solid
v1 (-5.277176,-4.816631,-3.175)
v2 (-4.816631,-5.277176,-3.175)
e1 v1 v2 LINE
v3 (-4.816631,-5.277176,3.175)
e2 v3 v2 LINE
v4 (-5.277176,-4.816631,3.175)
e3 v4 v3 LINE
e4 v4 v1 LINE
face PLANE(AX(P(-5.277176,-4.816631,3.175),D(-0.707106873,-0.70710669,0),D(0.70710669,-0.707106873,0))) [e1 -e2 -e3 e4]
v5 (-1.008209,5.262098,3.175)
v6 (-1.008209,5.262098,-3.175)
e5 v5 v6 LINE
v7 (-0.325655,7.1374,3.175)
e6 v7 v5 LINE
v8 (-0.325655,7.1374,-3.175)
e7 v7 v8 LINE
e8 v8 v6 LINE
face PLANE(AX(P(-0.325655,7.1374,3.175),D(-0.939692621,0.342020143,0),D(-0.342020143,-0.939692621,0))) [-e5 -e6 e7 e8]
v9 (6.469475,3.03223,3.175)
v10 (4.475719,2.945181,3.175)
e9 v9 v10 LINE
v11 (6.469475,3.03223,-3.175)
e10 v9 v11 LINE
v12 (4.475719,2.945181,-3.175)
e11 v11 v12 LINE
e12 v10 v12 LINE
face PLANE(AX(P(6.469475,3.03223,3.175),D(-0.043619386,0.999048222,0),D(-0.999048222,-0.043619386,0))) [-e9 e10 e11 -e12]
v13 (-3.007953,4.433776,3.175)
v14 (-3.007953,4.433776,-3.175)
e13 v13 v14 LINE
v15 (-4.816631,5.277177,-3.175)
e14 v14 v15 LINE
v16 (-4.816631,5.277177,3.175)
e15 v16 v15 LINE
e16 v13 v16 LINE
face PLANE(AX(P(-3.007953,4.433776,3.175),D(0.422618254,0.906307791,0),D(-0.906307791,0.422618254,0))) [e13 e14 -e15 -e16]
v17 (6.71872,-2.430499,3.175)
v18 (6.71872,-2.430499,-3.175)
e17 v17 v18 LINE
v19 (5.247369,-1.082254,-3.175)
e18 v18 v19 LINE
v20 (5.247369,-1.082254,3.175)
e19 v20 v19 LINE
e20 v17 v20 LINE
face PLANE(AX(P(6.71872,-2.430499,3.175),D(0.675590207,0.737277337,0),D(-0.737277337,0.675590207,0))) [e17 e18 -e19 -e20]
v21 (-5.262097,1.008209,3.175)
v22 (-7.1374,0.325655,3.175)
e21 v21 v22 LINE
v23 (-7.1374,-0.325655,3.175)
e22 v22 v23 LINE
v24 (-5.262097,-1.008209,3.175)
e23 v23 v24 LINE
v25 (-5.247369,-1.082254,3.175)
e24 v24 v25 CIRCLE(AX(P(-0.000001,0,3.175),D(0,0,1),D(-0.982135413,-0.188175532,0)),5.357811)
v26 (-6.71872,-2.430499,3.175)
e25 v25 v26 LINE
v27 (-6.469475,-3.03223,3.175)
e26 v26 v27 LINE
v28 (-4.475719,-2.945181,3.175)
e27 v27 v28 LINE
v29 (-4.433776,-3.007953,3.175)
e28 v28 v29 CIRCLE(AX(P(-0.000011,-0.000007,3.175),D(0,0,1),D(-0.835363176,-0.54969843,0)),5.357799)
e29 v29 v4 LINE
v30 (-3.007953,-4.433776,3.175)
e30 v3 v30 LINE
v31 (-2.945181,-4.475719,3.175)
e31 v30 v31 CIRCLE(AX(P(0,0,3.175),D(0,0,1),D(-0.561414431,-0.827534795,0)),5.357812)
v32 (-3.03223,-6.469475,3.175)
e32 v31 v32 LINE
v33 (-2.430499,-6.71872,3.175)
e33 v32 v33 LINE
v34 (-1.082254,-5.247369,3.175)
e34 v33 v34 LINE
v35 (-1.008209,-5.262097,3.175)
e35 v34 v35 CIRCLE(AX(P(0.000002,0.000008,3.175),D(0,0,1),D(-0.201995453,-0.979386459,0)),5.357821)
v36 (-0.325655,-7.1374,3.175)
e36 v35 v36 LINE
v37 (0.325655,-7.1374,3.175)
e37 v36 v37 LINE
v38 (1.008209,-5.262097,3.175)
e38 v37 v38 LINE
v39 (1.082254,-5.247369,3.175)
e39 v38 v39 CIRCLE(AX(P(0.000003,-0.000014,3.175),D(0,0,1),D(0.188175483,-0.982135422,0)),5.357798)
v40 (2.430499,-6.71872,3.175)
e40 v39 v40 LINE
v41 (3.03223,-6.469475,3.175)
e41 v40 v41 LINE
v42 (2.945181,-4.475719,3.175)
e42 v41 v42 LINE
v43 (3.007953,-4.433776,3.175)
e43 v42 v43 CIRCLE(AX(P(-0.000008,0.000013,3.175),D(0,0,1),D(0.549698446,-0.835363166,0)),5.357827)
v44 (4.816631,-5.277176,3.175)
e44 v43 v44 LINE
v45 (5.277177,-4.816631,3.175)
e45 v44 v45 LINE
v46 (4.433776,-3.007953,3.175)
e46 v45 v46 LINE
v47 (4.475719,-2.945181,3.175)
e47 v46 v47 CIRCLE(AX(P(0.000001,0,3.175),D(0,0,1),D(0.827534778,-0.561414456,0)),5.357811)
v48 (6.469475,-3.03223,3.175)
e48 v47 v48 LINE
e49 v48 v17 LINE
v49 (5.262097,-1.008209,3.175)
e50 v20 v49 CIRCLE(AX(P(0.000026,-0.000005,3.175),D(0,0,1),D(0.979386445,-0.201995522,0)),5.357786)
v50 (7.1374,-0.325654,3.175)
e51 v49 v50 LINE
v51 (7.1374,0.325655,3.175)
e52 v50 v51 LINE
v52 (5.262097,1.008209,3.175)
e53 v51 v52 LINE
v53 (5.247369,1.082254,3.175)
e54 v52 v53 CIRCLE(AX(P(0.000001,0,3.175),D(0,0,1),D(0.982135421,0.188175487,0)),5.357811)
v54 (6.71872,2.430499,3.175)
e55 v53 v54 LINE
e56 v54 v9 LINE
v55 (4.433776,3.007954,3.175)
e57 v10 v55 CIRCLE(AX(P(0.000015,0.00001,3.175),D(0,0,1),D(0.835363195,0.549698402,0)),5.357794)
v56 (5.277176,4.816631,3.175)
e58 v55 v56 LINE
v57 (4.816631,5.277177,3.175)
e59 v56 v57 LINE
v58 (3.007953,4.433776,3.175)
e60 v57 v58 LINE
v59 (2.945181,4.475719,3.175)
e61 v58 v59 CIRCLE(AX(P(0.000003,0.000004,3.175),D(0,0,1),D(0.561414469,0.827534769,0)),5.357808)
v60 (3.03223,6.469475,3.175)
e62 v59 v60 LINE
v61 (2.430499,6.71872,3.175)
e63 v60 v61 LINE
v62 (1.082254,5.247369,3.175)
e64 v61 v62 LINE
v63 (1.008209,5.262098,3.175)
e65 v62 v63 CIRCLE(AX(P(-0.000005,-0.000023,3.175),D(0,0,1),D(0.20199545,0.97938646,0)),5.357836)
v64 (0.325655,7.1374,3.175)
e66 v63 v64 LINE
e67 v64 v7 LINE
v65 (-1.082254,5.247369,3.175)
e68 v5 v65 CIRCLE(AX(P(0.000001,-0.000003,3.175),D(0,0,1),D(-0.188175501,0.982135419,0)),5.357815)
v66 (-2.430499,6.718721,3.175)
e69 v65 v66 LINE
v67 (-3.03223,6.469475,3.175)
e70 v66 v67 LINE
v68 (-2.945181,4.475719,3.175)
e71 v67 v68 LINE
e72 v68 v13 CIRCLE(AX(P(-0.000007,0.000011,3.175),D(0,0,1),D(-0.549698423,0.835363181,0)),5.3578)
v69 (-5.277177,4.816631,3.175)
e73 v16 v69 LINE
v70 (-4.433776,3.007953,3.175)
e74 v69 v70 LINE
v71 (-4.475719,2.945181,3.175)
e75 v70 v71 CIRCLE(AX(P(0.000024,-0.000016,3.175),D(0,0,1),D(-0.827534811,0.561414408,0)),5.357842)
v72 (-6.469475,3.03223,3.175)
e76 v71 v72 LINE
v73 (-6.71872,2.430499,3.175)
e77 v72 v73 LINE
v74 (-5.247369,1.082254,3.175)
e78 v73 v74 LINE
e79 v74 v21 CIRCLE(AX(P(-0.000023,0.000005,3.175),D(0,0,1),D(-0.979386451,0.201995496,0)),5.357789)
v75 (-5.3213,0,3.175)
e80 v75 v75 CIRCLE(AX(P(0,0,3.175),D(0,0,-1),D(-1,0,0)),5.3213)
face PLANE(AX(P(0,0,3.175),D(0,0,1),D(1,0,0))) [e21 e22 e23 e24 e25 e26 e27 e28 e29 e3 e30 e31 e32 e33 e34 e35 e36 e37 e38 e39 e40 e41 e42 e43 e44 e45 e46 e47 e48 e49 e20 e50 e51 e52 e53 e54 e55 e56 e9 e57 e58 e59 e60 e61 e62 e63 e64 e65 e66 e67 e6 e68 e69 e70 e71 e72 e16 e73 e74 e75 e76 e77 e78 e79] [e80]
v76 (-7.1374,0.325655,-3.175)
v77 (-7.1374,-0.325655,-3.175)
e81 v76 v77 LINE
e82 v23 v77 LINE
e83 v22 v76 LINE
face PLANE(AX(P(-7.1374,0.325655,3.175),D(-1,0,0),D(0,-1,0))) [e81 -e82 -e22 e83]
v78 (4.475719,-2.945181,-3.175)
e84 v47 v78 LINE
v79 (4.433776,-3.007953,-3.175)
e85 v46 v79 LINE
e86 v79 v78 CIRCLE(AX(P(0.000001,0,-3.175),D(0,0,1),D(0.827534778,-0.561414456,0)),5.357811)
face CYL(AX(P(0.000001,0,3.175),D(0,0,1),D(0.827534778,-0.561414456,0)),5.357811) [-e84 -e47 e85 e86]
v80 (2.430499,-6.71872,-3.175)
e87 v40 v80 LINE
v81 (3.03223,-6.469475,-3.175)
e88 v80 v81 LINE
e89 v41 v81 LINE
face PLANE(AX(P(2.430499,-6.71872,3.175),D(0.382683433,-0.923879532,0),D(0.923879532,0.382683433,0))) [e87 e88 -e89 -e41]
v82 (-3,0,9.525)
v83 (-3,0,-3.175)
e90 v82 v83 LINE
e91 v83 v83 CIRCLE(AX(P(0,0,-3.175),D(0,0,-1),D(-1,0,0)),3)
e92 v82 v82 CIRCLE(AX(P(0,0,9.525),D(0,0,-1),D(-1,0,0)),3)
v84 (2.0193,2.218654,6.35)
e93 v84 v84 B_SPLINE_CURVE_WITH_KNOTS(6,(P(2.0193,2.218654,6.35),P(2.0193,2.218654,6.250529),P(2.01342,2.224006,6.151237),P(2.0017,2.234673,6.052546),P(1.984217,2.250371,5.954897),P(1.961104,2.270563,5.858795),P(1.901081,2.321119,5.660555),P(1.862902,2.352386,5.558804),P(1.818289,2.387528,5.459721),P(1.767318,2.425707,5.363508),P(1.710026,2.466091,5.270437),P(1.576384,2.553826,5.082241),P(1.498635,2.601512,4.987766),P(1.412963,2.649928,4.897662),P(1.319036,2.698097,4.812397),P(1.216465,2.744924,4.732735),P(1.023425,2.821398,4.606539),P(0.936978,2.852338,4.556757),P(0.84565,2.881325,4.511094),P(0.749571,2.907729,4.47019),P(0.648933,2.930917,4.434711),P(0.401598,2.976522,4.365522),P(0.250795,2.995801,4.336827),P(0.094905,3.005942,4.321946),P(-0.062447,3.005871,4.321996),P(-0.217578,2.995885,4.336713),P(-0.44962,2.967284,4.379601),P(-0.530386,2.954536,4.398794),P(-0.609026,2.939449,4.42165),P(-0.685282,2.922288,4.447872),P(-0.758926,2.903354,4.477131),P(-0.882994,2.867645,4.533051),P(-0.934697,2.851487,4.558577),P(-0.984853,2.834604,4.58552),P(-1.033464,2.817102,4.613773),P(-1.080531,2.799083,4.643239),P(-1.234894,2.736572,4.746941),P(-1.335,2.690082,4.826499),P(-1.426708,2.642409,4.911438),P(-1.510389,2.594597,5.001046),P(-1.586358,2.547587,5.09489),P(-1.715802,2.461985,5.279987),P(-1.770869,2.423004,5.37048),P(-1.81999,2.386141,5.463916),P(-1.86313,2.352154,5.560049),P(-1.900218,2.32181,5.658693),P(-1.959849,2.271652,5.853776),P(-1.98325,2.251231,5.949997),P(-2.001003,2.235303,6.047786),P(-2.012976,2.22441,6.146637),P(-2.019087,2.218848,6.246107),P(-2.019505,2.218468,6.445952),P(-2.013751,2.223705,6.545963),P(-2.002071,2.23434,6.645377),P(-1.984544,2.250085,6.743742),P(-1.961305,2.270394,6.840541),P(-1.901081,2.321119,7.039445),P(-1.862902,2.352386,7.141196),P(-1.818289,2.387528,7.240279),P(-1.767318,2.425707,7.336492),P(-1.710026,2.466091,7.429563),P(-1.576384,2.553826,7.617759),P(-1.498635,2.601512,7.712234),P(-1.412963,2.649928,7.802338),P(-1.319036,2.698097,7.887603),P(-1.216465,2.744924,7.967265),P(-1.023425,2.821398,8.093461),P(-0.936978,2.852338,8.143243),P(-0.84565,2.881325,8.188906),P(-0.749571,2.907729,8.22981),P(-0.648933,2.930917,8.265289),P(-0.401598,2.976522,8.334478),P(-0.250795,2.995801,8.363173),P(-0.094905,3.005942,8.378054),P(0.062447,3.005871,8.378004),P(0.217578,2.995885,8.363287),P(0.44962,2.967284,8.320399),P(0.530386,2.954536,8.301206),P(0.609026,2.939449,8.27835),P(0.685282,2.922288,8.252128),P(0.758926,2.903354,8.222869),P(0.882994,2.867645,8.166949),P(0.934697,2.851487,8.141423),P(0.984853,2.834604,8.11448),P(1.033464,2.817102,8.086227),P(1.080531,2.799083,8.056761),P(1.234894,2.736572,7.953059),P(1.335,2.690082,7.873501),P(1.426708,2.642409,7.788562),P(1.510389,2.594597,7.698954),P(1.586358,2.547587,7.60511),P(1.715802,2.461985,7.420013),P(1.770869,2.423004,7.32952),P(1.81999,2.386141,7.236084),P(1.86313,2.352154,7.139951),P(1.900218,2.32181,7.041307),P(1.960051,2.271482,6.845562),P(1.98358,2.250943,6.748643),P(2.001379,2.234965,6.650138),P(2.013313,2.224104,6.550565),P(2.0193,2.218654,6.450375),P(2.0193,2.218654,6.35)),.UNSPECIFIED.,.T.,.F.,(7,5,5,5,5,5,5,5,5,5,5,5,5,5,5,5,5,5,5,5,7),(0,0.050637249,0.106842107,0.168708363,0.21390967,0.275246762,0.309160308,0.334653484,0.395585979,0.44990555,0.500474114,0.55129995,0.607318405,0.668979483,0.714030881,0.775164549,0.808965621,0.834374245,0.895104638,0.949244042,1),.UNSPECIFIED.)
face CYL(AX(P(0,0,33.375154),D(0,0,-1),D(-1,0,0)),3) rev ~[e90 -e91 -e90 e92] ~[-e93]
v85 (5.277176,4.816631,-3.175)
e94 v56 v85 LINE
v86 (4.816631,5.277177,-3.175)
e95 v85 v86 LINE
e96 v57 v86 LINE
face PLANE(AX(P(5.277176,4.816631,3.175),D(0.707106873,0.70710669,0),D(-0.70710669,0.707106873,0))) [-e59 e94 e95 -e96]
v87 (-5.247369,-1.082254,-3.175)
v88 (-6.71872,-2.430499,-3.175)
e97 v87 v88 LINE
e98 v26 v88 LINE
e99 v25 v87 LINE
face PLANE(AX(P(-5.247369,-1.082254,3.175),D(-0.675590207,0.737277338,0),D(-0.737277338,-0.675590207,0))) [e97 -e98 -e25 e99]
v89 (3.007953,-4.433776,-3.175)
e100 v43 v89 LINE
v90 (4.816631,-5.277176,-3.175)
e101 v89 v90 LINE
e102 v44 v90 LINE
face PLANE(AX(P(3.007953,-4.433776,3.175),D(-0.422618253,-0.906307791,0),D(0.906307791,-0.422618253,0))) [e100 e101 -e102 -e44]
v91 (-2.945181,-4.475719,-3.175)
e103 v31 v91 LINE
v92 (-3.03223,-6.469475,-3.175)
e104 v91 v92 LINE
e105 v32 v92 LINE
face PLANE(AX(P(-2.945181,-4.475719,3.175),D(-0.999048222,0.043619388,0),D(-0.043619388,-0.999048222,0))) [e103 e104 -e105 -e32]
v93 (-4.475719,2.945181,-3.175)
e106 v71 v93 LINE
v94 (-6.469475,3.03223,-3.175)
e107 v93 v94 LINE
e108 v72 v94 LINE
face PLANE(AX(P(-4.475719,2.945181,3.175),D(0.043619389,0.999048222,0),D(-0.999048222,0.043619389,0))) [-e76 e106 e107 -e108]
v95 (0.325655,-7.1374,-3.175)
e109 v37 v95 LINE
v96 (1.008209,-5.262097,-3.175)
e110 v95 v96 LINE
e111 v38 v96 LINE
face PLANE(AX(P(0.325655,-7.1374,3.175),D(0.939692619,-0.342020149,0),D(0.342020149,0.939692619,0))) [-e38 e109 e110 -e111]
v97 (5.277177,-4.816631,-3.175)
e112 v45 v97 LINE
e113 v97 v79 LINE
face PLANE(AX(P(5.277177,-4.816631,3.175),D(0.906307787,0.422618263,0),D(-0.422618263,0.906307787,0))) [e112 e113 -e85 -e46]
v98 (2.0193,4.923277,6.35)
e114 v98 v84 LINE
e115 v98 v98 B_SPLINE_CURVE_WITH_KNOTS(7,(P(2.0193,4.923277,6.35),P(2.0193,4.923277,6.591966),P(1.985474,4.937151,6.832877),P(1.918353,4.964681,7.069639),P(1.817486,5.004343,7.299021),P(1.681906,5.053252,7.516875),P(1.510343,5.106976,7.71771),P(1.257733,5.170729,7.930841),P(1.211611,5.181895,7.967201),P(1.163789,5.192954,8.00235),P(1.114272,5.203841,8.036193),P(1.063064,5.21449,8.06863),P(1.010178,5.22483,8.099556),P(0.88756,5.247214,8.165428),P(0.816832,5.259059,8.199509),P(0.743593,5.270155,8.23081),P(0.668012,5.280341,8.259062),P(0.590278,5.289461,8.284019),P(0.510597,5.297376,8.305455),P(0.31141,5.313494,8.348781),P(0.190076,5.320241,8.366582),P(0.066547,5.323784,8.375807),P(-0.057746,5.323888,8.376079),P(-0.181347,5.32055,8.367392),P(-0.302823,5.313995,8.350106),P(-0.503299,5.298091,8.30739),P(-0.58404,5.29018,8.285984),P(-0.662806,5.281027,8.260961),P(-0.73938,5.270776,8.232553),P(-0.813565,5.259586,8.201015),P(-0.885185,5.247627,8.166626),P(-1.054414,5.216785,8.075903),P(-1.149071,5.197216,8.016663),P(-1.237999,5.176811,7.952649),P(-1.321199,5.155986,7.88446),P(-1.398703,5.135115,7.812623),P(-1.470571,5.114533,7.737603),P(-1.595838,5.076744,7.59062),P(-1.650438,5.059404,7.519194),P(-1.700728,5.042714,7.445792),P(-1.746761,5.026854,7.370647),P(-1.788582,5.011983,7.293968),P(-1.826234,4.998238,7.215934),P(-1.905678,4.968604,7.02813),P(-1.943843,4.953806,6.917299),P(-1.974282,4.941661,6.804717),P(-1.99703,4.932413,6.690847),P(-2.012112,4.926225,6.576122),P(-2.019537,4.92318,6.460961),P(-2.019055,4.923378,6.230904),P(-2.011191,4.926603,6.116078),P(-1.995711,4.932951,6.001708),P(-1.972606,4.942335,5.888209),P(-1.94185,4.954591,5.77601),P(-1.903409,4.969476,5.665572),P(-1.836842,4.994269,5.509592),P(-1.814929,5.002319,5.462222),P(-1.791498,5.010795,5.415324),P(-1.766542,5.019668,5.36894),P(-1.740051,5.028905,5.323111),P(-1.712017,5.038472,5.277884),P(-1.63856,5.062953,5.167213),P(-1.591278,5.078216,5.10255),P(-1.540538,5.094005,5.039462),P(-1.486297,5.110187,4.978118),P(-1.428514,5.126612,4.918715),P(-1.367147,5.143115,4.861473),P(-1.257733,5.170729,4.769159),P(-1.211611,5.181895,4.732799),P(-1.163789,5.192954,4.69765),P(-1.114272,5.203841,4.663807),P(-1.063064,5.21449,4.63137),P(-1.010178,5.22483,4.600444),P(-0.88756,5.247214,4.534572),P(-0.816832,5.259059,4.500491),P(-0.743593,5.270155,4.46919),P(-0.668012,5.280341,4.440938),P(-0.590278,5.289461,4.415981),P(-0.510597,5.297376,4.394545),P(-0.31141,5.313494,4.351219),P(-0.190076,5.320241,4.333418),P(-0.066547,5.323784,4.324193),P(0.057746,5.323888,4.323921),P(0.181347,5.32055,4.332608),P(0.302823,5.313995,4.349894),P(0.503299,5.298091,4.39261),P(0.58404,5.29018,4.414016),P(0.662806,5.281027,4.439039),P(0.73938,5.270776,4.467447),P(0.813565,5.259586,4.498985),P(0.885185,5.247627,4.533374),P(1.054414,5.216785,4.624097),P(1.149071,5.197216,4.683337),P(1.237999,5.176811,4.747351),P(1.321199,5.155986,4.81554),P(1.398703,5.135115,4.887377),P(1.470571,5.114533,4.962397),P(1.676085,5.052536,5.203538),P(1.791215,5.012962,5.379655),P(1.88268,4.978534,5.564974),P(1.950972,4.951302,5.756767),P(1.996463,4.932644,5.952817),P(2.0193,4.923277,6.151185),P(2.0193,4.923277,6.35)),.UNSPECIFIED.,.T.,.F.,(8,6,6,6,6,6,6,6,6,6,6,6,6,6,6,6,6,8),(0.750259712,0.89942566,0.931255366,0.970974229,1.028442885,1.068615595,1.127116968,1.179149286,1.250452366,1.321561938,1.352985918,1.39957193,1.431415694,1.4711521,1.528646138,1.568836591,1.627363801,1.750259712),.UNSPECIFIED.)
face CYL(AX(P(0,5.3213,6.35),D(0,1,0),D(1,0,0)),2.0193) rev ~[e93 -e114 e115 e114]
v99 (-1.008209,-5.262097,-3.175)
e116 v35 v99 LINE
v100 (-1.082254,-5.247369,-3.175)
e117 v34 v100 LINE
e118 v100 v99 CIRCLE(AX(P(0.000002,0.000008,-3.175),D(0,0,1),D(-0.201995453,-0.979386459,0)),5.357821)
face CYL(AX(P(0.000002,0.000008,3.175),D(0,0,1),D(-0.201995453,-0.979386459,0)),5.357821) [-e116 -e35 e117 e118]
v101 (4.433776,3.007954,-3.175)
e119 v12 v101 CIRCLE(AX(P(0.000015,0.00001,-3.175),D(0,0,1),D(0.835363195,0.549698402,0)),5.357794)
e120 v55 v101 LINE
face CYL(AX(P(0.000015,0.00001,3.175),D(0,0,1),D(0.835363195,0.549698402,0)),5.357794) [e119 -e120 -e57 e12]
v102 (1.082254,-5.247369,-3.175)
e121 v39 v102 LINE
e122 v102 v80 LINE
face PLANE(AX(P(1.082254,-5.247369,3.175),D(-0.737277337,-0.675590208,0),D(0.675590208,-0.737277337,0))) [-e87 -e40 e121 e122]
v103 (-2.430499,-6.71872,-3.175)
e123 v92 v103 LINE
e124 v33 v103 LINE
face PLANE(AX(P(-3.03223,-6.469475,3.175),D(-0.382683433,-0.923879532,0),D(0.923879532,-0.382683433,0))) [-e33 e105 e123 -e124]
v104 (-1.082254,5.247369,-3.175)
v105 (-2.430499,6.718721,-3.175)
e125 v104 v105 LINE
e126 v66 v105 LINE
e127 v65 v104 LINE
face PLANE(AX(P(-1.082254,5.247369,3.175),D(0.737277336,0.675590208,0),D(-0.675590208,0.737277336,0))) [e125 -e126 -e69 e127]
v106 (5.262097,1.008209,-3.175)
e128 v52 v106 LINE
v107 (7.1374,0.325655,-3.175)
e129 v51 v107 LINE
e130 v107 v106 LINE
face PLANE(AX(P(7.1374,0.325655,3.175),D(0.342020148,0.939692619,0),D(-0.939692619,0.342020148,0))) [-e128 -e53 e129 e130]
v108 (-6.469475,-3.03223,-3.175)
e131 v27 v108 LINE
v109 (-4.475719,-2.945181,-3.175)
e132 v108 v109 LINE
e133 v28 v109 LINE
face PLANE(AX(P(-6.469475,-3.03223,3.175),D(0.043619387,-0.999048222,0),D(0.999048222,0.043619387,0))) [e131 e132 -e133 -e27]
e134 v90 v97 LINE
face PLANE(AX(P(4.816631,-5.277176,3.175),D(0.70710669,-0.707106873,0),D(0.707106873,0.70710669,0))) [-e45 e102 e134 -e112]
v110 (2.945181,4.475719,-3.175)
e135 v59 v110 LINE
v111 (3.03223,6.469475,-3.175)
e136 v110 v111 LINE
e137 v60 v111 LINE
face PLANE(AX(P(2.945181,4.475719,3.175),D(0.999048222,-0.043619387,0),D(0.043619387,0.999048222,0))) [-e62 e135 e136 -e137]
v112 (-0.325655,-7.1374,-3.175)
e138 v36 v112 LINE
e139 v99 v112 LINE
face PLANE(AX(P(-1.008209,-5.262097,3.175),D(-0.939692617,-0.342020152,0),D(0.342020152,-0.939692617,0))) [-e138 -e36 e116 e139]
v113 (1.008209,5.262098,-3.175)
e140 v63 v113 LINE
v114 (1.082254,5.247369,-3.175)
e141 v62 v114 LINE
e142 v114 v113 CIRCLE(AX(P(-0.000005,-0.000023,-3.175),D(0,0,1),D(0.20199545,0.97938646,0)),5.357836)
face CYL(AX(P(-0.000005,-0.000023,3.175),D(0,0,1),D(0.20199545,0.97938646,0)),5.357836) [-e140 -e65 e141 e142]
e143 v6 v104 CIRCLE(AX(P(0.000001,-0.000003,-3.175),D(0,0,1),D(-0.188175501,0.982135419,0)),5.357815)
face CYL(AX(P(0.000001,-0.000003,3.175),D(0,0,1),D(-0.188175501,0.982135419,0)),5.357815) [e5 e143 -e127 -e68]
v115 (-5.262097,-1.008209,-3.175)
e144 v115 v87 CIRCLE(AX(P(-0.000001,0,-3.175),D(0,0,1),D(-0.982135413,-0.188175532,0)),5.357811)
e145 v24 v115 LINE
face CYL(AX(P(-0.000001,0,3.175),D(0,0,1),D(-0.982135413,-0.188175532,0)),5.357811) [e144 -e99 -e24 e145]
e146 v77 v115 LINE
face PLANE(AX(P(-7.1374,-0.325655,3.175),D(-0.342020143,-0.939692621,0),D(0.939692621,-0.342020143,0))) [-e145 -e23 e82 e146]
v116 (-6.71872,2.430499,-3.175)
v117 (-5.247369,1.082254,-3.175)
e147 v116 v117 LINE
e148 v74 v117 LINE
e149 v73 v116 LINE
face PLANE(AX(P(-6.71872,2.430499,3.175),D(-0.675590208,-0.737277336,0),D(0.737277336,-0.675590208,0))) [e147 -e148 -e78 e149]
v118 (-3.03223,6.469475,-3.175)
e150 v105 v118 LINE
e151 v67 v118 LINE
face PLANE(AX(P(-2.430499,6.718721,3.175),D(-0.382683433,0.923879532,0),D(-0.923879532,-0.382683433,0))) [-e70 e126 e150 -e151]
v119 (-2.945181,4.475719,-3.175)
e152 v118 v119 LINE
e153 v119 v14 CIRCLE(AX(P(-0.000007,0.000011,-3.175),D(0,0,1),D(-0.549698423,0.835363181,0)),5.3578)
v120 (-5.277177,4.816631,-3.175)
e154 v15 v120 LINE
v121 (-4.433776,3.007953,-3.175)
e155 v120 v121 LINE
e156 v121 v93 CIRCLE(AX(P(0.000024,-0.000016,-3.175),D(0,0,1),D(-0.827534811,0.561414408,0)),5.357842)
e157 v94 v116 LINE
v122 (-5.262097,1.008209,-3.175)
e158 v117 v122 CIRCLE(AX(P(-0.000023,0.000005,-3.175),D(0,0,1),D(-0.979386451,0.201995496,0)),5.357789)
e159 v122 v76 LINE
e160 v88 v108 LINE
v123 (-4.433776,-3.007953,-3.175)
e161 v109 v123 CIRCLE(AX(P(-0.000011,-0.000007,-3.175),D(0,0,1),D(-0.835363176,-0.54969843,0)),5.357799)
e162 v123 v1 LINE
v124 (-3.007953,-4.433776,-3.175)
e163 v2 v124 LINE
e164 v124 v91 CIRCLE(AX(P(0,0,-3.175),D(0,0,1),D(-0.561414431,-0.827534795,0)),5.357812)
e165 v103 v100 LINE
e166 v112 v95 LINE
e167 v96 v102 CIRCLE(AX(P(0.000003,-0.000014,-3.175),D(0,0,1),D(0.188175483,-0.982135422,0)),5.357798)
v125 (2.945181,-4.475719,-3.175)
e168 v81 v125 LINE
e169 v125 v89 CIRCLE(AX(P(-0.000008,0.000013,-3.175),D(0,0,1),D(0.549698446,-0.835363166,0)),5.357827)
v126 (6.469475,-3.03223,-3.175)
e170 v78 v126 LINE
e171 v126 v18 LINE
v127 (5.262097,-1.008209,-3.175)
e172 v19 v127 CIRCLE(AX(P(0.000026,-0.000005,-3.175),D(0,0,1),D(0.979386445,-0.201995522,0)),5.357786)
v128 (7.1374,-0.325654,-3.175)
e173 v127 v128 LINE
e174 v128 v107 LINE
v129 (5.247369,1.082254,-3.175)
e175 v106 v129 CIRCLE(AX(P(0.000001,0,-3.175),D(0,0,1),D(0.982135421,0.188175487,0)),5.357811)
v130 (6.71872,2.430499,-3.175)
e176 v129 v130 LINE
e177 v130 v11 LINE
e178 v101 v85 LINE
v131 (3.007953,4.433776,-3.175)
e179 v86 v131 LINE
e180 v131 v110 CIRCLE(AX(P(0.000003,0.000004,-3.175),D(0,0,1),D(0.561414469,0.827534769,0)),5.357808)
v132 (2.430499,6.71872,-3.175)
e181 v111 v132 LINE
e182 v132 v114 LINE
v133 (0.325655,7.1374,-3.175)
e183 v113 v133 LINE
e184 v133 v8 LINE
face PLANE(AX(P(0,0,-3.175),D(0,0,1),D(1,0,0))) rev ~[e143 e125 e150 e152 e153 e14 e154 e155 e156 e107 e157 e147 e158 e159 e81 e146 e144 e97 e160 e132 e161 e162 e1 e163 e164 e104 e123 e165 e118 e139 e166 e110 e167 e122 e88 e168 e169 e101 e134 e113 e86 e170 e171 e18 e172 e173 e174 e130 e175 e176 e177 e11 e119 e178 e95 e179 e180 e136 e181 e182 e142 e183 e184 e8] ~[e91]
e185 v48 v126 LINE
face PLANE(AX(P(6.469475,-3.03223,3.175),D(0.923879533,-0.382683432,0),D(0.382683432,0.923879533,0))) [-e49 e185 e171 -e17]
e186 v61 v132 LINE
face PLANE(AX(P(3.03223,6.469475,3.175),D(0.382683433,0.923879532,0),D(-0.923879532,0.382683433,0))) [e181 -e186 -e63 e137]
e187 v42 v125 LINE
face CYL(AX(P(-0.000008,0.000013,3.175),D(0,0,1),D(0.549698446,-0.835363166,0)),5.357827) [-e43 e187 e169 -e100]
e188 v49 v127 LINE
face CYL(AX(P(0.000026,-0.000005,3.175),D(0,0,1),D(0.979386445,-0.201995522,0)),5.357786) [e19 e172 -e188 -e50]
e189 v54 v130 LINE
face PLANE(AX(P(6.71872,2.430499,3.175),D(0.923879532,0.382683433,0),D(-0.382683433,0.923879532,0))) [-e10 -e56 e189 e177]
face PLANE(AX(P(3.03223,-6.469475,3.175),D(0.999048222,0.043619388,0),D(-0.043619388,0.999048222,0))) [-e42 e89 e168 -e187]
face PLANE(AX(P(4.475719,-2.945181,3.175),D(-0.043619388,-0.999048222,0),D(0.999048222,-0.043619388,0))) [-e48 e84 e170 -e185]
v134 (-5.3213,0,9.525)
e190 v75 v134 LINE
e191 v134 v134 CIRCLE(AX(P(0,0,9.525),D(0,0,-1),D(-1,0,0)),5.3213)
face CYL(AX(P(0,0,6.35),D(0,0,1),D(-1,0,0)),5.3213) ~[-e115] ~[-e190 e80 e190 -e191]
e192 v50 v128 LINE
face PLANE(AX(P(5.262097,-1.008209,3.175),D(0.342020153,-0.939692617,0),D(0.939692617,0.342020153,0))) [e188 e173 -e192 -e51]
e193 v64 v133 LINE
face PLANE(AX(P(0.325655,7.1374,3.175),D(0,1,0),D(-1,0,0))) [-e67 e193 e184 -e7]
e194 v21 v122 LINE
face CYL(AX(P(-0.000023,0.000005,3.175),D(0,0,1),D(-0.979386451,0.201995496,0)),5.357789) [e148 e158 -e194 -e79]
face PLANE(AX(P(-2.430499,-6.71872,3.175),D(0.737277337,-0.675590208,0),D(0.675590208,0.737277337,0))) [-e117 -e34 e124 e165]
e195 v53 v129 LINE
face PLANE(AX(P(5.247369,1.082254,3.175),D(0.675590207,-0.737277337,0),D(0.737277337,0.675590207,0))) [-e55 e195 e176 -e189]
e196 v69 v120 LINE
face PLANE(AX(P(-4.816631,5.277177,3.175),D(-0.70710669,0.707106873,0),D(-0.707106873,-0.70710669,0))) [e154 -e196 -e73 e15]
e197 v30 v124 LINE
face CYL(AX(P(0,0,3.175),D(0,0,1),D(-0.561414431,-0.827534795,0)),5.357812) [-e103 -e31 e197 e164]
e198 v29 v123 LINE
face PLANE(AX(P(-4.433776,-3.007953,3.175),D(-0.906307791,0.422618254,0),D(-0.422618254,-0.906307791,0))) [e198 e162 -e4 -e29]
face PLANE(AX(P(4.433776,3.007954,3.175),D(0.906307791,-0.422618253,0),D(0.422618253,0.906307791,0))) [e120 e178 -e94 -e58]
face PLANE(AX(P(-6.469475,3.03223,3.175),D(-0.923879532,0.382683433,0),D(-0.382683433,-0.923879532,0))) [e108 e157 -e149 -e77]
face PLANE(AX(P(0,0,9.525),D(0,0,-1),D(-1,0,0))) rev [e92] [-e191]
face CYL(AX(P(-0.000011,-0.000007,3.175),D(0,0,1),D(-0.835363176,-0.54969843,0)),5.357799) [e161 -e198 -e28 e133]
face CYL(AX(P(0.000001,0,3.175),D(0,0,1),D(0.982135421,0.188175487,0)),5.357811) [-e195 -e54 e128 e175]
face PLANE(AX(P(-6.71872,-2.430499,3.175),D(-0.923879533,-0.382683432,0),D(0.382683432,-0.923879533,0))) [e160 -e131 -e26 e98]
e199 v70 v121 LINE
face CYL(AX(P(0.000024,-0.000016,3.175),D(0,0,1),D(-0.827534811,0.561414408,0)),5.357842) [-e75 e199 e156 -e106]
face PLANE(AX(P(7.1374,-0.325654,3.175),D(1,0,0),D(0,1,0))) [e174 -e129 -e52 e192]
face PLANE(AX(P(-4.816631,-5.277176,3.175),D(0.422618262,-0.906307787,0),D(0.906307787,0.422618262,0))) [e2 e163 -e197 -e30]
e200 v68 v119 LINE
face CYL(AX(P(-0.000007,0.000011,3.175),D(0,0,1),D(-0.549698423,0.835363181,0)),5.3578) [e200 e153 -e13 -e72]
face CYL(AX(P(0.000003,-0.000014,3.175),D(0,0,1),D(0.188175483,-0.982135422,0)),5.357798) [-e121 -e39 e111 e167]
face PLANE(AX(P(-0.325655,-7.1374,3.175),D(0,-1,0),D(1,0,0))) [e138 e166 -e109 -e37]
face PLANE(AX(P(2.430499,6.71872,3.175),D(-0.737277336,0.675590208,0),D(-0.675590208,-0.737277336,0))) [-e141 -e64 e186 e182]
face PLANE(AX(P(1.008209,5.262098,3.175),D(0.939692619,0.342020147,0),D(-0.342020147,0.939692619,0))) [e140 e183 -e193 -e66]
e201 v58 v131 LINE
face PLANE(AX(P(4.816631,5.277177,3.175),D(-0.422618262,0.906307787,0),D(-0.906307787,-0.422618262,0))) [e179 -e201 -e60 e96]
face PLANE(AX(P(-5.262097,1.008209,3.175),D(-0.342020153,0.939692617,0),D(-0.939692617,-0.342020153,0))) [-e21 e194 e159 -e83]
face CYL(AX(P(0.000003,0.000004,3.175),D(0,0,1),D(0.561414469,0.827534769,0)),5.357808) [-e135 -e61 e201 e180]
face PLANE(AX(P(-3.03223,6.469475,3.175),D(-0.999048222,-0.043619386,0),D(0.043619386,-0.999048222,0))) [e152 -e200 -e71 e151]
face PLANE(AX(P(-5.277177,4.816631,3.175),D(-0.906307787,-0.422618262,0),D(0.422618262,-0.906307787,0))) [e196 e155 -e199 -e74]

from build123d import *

# Parameters (mm, degrees)
BOSS_EXTRUDE1_DEPTH              = 6.35
SKETCH2_W                        = 5.3213
SKETCH2_H                        = 6.35
F_12_CLEARANCE_HOLE1_D           = 6
F_21_0_159_DIAMETER_HOLE1_REACH  = 19.23
F_21_0_159_DIAMETER_HOLE1_BORE_R = 2.0193


with BuildPart() as part:
    # Sketch1 → Boss-Extrude1 (new body)
    with BuildSketch(Plane.XY.offset(3.175)):
        with BuildLine():
            Line((2.945181061, 4.475719374), (3.032230323, 6.469475256))
            Line((3.032230323, 6.469475256), (2.430499075, 6.7187205))
            Line((2.430499075, 6.7187205), (1.082253901, 5.247369083))
            ThreePointArc((1.082253901, 5.247369083), (1.045257317, 5.254863741), (1.008208849, 5.262097559))
            Line((1.008208849, 5.262097559), (0.325654523, 7.137400133))
            Line((0.325654523, 7.137400133), (-0.325654702, 7.137400133))
            Line((-0.325654702, 7.137400133), (-1.008209026, 5.262097541))
            ThreePointArc((-1.008209026, 5.262097541), (-1.045257435, 5.254863734), (-1.082253959, 5.247369087))
            Line((-1.082253959, 5.247369087), (-2.43049913, 6.718720502))
            Line((-2.43049913, 6.718720502), (-3.03223038, 6.469475257))
            Line((-3.03223038, 6.469475257), (-2.945181121, 4.475719388))
            ThreePointArc((-2.945181121, 4.475719388), (-2.976641184, 4.454858374), (-3.007953492, 4.433776229))
            Line((-3.007953492, 4.433776229), (-4.816631407, 5.277176573))
            Line((-4.816631407, 5.277176573), (-5.277176625, 4.816631474))
            Line((-5.277176625, 4.816631474), (-4.433776215, 3.007953457))
            ThreePointArc((-4.433776215, 3.007953457), (-4.454858319, 2.976641205), (-4.475719295, 2.945181199))
            Line((-4.475719295, 2.945181199), (-6.469475174, 3.032230463))
            Line((-6.469475174, 3.032230463), (-6.718720419, 2.430499213))
            Line((-6.718720419, 2.430499213), (-5.247368979, 1.082254018))
            ThreePointArc((-5.247368979, 1.082254018), (-5.254863646, 1.045257392), (-5.26209747, 1.008208882))
            Line((-5.26209747, 1.008208882), (-7.137400023, 0.325654551))
            Line((-7.137400023, 0.325654551), (-7.137400023, -0.325654674))
            Line((-7.137400023, -0.325654674), (-5.262097383, -1.008209015))
            ThreePointArc((-5.262097383, -1.008209015), (-5.254863591, -1.045257342), (-5.24736896, -1.082253784))
            Line((-5.24736896, -1.082253784), (-6.71872042, -2.430498991))
            Line((-6.71872042, -2.430498991), (-6.469475175, -3.032230242))
            Line((-6.469475175, -3.032230242), (-4.475719227, -2.945180979))
            ThreePointArc((-4.475719227, -2.945180979), (-4.454858236, -2.976641007), (-4.433776114, -3.007953281))
            Line((-4.433776114, -3.007953281), (-5.277176492, -4.816631269))
            Line((-5.277176492, -4.816631269), (-4.816631393, -5.277176487))
            Line((-4.816631393, -5.277176487), (-3.007953296, -4.433776039))
            ThreePointArc((-3.007953296, -4.433776039), (-2.976641082, -4.454858118), (-2.945181114, -4.475719068))
            Line((-2.945181114, -4.475719068), (-3.03223038, -6.469475037))
            Line((-3.03223038, -6.469475037), (-2.43049913, -6.718720282))
            Line((-2.43049913, -6.718720282), (-1.082253881, -5.24736878))
            ThreePointArc((-1.082253881, -5.24736878), (-1.045257351, -5.254863427), (-1.008208937, -5.262097234))
            Line((-1.008208937, -5.262097234), (-0.325654579, -7.137399864))
            Line((-0.325654579, -7.137399864), (0.325654646, -7.137399864))
            Line((0.325654646, -7.137399864), (1.008209007, -5.262097205))
            ThreePointArc((1.008209007, -5.262097205), (1.045257357, -5.25486341), (1.082253822, -5.247368775))
            Line((1.082253822, -5.247368775), (2.430499075, -6.718720281))
            Line((2.430499075, -6.718720281), (3.032230325, -6.469475036))
            Line((3.032230325, -6.469475036), (2.945181058, -4.475719052))
            ThreePointArc((2.945181058, -4.475719052), (2.976641071, -4.454858071), (3.00795333, -4.433775961))
            Line((3.00795333, -4.433775961), (4.816631352, -5.277176352))
            Line((4.816631352, -5.277176352), (5.27717657, -4.816631253))
            Line((5.27717657, -4.816631253), (4.433776119, -3.007953154))
            ThreePointArc((4.433776119, -3.007953154), (4.454858198, -2.976640942), (4.475719148, -2.945180976))
            Line((4.475719148, -2.945180976), (6.469475118, -3.032230242))
            Line((6.469475118, -3.032230242), (6.718720363, -2.430498991))
            Line((6.718720363, -2.430498991), (5.247368883, -1.082253764))
            ThreePointArc((5.247368883, -1.082253764), (5.254863535, -1.045257218), (5.262097345, -1.008208788))
            Line((5.262097345, -1.008208788), (7.137399945, -0.32565444))
            Line((7.137399945, -0.32565444), (7.137399945, 0.325654785))
            Line((7.137399945, 0.325654785), (5.262097343, 1.008209124))
            ThreePointArc((5.262097343, 1.008209124), (5.254863542, 1.045257505), (5.247368901, 1.082254002))
            Line((5.247368901, 1.082254002), (6.718720362, 2.430499213))
            Line((6.718720362, 2.430499213), (6.469475118, 3.032230461))
            Line((6.469475118, 3.032230461), (4.475719213, 2.9451812))
            ThreePointArc((4.475719213, 2.9451812), (4.45485821, 2.976641248), (4.433776076, 3.007953541))
            Line((4.433776076, 3.007953541), (5.277176433, 4.81663149))
            Line((5.277176433, 4.81663149), (4.816631336, 5.277176706))
            Line((4.816631336, 5.277176706), (3.007953315, 4.433776294))
            ThreePointArc((3.007953315, 4.433776294), (2.976641065, 4.454858399), (2.945181061, 4.475719374))
        make_face()
    extrude(amount=-BOSS_EXTRUDE1_DEPTH)

    # Sketch2 → Revolve1 (revolve)
    with BuildSketch(Plane.XZ, mode=Mode.PRIVATE) as revolve1_sk:
        with Locations((2.66065, 6.35)):
            Rectangle(SKETCH2_W, SKETCH2_H)
    revolve(revolve1_sk.sketch.rotate(Axis((0, 0, 9.525), (0, 0, -1)), 180), axis=Axis((0, 0, 9.525), (0, 0, -1)))

    # #12 Clearance Hole1 (through all)
    with Locations(Plane.XY.offset(9.525)):
        with Locations((0, 0)):
            Hole(F_12_CLEARANCE_HOLE1_D / 2)

    # #21 (0.159) Diameter Hole1 bore (on position points) → #21 (0.159) Diameter Hole1 (cut, up to next)
    with BuildSketch(Plane(origin=(0, 5.3213, 6.35), x_dir=(1, 0, 0), z_dir=(0, 1, 0)), mode=Mode.PRIVATE) as f_21_0_159_diameter_hole1_sk1:
        Circle(F_21_0_159_DIAMETER_HOLE1_BORE_R)
    f_21_0_159_diameter_hole1_tool1 = extrude(f_21_0_159_diameter_hole1_sk1.sketch, amount=-F_21_0_159_DIAMETER_HOLE1_REACH, mode=Mode.PRIVATE) & part.part
    add(f_21_0_159_diameter_hole1_tool1.solids().sort_by_distance((0, 5.3213, 6.35))[0], mode=Mode.SUBTRACT)


solid = part.part
